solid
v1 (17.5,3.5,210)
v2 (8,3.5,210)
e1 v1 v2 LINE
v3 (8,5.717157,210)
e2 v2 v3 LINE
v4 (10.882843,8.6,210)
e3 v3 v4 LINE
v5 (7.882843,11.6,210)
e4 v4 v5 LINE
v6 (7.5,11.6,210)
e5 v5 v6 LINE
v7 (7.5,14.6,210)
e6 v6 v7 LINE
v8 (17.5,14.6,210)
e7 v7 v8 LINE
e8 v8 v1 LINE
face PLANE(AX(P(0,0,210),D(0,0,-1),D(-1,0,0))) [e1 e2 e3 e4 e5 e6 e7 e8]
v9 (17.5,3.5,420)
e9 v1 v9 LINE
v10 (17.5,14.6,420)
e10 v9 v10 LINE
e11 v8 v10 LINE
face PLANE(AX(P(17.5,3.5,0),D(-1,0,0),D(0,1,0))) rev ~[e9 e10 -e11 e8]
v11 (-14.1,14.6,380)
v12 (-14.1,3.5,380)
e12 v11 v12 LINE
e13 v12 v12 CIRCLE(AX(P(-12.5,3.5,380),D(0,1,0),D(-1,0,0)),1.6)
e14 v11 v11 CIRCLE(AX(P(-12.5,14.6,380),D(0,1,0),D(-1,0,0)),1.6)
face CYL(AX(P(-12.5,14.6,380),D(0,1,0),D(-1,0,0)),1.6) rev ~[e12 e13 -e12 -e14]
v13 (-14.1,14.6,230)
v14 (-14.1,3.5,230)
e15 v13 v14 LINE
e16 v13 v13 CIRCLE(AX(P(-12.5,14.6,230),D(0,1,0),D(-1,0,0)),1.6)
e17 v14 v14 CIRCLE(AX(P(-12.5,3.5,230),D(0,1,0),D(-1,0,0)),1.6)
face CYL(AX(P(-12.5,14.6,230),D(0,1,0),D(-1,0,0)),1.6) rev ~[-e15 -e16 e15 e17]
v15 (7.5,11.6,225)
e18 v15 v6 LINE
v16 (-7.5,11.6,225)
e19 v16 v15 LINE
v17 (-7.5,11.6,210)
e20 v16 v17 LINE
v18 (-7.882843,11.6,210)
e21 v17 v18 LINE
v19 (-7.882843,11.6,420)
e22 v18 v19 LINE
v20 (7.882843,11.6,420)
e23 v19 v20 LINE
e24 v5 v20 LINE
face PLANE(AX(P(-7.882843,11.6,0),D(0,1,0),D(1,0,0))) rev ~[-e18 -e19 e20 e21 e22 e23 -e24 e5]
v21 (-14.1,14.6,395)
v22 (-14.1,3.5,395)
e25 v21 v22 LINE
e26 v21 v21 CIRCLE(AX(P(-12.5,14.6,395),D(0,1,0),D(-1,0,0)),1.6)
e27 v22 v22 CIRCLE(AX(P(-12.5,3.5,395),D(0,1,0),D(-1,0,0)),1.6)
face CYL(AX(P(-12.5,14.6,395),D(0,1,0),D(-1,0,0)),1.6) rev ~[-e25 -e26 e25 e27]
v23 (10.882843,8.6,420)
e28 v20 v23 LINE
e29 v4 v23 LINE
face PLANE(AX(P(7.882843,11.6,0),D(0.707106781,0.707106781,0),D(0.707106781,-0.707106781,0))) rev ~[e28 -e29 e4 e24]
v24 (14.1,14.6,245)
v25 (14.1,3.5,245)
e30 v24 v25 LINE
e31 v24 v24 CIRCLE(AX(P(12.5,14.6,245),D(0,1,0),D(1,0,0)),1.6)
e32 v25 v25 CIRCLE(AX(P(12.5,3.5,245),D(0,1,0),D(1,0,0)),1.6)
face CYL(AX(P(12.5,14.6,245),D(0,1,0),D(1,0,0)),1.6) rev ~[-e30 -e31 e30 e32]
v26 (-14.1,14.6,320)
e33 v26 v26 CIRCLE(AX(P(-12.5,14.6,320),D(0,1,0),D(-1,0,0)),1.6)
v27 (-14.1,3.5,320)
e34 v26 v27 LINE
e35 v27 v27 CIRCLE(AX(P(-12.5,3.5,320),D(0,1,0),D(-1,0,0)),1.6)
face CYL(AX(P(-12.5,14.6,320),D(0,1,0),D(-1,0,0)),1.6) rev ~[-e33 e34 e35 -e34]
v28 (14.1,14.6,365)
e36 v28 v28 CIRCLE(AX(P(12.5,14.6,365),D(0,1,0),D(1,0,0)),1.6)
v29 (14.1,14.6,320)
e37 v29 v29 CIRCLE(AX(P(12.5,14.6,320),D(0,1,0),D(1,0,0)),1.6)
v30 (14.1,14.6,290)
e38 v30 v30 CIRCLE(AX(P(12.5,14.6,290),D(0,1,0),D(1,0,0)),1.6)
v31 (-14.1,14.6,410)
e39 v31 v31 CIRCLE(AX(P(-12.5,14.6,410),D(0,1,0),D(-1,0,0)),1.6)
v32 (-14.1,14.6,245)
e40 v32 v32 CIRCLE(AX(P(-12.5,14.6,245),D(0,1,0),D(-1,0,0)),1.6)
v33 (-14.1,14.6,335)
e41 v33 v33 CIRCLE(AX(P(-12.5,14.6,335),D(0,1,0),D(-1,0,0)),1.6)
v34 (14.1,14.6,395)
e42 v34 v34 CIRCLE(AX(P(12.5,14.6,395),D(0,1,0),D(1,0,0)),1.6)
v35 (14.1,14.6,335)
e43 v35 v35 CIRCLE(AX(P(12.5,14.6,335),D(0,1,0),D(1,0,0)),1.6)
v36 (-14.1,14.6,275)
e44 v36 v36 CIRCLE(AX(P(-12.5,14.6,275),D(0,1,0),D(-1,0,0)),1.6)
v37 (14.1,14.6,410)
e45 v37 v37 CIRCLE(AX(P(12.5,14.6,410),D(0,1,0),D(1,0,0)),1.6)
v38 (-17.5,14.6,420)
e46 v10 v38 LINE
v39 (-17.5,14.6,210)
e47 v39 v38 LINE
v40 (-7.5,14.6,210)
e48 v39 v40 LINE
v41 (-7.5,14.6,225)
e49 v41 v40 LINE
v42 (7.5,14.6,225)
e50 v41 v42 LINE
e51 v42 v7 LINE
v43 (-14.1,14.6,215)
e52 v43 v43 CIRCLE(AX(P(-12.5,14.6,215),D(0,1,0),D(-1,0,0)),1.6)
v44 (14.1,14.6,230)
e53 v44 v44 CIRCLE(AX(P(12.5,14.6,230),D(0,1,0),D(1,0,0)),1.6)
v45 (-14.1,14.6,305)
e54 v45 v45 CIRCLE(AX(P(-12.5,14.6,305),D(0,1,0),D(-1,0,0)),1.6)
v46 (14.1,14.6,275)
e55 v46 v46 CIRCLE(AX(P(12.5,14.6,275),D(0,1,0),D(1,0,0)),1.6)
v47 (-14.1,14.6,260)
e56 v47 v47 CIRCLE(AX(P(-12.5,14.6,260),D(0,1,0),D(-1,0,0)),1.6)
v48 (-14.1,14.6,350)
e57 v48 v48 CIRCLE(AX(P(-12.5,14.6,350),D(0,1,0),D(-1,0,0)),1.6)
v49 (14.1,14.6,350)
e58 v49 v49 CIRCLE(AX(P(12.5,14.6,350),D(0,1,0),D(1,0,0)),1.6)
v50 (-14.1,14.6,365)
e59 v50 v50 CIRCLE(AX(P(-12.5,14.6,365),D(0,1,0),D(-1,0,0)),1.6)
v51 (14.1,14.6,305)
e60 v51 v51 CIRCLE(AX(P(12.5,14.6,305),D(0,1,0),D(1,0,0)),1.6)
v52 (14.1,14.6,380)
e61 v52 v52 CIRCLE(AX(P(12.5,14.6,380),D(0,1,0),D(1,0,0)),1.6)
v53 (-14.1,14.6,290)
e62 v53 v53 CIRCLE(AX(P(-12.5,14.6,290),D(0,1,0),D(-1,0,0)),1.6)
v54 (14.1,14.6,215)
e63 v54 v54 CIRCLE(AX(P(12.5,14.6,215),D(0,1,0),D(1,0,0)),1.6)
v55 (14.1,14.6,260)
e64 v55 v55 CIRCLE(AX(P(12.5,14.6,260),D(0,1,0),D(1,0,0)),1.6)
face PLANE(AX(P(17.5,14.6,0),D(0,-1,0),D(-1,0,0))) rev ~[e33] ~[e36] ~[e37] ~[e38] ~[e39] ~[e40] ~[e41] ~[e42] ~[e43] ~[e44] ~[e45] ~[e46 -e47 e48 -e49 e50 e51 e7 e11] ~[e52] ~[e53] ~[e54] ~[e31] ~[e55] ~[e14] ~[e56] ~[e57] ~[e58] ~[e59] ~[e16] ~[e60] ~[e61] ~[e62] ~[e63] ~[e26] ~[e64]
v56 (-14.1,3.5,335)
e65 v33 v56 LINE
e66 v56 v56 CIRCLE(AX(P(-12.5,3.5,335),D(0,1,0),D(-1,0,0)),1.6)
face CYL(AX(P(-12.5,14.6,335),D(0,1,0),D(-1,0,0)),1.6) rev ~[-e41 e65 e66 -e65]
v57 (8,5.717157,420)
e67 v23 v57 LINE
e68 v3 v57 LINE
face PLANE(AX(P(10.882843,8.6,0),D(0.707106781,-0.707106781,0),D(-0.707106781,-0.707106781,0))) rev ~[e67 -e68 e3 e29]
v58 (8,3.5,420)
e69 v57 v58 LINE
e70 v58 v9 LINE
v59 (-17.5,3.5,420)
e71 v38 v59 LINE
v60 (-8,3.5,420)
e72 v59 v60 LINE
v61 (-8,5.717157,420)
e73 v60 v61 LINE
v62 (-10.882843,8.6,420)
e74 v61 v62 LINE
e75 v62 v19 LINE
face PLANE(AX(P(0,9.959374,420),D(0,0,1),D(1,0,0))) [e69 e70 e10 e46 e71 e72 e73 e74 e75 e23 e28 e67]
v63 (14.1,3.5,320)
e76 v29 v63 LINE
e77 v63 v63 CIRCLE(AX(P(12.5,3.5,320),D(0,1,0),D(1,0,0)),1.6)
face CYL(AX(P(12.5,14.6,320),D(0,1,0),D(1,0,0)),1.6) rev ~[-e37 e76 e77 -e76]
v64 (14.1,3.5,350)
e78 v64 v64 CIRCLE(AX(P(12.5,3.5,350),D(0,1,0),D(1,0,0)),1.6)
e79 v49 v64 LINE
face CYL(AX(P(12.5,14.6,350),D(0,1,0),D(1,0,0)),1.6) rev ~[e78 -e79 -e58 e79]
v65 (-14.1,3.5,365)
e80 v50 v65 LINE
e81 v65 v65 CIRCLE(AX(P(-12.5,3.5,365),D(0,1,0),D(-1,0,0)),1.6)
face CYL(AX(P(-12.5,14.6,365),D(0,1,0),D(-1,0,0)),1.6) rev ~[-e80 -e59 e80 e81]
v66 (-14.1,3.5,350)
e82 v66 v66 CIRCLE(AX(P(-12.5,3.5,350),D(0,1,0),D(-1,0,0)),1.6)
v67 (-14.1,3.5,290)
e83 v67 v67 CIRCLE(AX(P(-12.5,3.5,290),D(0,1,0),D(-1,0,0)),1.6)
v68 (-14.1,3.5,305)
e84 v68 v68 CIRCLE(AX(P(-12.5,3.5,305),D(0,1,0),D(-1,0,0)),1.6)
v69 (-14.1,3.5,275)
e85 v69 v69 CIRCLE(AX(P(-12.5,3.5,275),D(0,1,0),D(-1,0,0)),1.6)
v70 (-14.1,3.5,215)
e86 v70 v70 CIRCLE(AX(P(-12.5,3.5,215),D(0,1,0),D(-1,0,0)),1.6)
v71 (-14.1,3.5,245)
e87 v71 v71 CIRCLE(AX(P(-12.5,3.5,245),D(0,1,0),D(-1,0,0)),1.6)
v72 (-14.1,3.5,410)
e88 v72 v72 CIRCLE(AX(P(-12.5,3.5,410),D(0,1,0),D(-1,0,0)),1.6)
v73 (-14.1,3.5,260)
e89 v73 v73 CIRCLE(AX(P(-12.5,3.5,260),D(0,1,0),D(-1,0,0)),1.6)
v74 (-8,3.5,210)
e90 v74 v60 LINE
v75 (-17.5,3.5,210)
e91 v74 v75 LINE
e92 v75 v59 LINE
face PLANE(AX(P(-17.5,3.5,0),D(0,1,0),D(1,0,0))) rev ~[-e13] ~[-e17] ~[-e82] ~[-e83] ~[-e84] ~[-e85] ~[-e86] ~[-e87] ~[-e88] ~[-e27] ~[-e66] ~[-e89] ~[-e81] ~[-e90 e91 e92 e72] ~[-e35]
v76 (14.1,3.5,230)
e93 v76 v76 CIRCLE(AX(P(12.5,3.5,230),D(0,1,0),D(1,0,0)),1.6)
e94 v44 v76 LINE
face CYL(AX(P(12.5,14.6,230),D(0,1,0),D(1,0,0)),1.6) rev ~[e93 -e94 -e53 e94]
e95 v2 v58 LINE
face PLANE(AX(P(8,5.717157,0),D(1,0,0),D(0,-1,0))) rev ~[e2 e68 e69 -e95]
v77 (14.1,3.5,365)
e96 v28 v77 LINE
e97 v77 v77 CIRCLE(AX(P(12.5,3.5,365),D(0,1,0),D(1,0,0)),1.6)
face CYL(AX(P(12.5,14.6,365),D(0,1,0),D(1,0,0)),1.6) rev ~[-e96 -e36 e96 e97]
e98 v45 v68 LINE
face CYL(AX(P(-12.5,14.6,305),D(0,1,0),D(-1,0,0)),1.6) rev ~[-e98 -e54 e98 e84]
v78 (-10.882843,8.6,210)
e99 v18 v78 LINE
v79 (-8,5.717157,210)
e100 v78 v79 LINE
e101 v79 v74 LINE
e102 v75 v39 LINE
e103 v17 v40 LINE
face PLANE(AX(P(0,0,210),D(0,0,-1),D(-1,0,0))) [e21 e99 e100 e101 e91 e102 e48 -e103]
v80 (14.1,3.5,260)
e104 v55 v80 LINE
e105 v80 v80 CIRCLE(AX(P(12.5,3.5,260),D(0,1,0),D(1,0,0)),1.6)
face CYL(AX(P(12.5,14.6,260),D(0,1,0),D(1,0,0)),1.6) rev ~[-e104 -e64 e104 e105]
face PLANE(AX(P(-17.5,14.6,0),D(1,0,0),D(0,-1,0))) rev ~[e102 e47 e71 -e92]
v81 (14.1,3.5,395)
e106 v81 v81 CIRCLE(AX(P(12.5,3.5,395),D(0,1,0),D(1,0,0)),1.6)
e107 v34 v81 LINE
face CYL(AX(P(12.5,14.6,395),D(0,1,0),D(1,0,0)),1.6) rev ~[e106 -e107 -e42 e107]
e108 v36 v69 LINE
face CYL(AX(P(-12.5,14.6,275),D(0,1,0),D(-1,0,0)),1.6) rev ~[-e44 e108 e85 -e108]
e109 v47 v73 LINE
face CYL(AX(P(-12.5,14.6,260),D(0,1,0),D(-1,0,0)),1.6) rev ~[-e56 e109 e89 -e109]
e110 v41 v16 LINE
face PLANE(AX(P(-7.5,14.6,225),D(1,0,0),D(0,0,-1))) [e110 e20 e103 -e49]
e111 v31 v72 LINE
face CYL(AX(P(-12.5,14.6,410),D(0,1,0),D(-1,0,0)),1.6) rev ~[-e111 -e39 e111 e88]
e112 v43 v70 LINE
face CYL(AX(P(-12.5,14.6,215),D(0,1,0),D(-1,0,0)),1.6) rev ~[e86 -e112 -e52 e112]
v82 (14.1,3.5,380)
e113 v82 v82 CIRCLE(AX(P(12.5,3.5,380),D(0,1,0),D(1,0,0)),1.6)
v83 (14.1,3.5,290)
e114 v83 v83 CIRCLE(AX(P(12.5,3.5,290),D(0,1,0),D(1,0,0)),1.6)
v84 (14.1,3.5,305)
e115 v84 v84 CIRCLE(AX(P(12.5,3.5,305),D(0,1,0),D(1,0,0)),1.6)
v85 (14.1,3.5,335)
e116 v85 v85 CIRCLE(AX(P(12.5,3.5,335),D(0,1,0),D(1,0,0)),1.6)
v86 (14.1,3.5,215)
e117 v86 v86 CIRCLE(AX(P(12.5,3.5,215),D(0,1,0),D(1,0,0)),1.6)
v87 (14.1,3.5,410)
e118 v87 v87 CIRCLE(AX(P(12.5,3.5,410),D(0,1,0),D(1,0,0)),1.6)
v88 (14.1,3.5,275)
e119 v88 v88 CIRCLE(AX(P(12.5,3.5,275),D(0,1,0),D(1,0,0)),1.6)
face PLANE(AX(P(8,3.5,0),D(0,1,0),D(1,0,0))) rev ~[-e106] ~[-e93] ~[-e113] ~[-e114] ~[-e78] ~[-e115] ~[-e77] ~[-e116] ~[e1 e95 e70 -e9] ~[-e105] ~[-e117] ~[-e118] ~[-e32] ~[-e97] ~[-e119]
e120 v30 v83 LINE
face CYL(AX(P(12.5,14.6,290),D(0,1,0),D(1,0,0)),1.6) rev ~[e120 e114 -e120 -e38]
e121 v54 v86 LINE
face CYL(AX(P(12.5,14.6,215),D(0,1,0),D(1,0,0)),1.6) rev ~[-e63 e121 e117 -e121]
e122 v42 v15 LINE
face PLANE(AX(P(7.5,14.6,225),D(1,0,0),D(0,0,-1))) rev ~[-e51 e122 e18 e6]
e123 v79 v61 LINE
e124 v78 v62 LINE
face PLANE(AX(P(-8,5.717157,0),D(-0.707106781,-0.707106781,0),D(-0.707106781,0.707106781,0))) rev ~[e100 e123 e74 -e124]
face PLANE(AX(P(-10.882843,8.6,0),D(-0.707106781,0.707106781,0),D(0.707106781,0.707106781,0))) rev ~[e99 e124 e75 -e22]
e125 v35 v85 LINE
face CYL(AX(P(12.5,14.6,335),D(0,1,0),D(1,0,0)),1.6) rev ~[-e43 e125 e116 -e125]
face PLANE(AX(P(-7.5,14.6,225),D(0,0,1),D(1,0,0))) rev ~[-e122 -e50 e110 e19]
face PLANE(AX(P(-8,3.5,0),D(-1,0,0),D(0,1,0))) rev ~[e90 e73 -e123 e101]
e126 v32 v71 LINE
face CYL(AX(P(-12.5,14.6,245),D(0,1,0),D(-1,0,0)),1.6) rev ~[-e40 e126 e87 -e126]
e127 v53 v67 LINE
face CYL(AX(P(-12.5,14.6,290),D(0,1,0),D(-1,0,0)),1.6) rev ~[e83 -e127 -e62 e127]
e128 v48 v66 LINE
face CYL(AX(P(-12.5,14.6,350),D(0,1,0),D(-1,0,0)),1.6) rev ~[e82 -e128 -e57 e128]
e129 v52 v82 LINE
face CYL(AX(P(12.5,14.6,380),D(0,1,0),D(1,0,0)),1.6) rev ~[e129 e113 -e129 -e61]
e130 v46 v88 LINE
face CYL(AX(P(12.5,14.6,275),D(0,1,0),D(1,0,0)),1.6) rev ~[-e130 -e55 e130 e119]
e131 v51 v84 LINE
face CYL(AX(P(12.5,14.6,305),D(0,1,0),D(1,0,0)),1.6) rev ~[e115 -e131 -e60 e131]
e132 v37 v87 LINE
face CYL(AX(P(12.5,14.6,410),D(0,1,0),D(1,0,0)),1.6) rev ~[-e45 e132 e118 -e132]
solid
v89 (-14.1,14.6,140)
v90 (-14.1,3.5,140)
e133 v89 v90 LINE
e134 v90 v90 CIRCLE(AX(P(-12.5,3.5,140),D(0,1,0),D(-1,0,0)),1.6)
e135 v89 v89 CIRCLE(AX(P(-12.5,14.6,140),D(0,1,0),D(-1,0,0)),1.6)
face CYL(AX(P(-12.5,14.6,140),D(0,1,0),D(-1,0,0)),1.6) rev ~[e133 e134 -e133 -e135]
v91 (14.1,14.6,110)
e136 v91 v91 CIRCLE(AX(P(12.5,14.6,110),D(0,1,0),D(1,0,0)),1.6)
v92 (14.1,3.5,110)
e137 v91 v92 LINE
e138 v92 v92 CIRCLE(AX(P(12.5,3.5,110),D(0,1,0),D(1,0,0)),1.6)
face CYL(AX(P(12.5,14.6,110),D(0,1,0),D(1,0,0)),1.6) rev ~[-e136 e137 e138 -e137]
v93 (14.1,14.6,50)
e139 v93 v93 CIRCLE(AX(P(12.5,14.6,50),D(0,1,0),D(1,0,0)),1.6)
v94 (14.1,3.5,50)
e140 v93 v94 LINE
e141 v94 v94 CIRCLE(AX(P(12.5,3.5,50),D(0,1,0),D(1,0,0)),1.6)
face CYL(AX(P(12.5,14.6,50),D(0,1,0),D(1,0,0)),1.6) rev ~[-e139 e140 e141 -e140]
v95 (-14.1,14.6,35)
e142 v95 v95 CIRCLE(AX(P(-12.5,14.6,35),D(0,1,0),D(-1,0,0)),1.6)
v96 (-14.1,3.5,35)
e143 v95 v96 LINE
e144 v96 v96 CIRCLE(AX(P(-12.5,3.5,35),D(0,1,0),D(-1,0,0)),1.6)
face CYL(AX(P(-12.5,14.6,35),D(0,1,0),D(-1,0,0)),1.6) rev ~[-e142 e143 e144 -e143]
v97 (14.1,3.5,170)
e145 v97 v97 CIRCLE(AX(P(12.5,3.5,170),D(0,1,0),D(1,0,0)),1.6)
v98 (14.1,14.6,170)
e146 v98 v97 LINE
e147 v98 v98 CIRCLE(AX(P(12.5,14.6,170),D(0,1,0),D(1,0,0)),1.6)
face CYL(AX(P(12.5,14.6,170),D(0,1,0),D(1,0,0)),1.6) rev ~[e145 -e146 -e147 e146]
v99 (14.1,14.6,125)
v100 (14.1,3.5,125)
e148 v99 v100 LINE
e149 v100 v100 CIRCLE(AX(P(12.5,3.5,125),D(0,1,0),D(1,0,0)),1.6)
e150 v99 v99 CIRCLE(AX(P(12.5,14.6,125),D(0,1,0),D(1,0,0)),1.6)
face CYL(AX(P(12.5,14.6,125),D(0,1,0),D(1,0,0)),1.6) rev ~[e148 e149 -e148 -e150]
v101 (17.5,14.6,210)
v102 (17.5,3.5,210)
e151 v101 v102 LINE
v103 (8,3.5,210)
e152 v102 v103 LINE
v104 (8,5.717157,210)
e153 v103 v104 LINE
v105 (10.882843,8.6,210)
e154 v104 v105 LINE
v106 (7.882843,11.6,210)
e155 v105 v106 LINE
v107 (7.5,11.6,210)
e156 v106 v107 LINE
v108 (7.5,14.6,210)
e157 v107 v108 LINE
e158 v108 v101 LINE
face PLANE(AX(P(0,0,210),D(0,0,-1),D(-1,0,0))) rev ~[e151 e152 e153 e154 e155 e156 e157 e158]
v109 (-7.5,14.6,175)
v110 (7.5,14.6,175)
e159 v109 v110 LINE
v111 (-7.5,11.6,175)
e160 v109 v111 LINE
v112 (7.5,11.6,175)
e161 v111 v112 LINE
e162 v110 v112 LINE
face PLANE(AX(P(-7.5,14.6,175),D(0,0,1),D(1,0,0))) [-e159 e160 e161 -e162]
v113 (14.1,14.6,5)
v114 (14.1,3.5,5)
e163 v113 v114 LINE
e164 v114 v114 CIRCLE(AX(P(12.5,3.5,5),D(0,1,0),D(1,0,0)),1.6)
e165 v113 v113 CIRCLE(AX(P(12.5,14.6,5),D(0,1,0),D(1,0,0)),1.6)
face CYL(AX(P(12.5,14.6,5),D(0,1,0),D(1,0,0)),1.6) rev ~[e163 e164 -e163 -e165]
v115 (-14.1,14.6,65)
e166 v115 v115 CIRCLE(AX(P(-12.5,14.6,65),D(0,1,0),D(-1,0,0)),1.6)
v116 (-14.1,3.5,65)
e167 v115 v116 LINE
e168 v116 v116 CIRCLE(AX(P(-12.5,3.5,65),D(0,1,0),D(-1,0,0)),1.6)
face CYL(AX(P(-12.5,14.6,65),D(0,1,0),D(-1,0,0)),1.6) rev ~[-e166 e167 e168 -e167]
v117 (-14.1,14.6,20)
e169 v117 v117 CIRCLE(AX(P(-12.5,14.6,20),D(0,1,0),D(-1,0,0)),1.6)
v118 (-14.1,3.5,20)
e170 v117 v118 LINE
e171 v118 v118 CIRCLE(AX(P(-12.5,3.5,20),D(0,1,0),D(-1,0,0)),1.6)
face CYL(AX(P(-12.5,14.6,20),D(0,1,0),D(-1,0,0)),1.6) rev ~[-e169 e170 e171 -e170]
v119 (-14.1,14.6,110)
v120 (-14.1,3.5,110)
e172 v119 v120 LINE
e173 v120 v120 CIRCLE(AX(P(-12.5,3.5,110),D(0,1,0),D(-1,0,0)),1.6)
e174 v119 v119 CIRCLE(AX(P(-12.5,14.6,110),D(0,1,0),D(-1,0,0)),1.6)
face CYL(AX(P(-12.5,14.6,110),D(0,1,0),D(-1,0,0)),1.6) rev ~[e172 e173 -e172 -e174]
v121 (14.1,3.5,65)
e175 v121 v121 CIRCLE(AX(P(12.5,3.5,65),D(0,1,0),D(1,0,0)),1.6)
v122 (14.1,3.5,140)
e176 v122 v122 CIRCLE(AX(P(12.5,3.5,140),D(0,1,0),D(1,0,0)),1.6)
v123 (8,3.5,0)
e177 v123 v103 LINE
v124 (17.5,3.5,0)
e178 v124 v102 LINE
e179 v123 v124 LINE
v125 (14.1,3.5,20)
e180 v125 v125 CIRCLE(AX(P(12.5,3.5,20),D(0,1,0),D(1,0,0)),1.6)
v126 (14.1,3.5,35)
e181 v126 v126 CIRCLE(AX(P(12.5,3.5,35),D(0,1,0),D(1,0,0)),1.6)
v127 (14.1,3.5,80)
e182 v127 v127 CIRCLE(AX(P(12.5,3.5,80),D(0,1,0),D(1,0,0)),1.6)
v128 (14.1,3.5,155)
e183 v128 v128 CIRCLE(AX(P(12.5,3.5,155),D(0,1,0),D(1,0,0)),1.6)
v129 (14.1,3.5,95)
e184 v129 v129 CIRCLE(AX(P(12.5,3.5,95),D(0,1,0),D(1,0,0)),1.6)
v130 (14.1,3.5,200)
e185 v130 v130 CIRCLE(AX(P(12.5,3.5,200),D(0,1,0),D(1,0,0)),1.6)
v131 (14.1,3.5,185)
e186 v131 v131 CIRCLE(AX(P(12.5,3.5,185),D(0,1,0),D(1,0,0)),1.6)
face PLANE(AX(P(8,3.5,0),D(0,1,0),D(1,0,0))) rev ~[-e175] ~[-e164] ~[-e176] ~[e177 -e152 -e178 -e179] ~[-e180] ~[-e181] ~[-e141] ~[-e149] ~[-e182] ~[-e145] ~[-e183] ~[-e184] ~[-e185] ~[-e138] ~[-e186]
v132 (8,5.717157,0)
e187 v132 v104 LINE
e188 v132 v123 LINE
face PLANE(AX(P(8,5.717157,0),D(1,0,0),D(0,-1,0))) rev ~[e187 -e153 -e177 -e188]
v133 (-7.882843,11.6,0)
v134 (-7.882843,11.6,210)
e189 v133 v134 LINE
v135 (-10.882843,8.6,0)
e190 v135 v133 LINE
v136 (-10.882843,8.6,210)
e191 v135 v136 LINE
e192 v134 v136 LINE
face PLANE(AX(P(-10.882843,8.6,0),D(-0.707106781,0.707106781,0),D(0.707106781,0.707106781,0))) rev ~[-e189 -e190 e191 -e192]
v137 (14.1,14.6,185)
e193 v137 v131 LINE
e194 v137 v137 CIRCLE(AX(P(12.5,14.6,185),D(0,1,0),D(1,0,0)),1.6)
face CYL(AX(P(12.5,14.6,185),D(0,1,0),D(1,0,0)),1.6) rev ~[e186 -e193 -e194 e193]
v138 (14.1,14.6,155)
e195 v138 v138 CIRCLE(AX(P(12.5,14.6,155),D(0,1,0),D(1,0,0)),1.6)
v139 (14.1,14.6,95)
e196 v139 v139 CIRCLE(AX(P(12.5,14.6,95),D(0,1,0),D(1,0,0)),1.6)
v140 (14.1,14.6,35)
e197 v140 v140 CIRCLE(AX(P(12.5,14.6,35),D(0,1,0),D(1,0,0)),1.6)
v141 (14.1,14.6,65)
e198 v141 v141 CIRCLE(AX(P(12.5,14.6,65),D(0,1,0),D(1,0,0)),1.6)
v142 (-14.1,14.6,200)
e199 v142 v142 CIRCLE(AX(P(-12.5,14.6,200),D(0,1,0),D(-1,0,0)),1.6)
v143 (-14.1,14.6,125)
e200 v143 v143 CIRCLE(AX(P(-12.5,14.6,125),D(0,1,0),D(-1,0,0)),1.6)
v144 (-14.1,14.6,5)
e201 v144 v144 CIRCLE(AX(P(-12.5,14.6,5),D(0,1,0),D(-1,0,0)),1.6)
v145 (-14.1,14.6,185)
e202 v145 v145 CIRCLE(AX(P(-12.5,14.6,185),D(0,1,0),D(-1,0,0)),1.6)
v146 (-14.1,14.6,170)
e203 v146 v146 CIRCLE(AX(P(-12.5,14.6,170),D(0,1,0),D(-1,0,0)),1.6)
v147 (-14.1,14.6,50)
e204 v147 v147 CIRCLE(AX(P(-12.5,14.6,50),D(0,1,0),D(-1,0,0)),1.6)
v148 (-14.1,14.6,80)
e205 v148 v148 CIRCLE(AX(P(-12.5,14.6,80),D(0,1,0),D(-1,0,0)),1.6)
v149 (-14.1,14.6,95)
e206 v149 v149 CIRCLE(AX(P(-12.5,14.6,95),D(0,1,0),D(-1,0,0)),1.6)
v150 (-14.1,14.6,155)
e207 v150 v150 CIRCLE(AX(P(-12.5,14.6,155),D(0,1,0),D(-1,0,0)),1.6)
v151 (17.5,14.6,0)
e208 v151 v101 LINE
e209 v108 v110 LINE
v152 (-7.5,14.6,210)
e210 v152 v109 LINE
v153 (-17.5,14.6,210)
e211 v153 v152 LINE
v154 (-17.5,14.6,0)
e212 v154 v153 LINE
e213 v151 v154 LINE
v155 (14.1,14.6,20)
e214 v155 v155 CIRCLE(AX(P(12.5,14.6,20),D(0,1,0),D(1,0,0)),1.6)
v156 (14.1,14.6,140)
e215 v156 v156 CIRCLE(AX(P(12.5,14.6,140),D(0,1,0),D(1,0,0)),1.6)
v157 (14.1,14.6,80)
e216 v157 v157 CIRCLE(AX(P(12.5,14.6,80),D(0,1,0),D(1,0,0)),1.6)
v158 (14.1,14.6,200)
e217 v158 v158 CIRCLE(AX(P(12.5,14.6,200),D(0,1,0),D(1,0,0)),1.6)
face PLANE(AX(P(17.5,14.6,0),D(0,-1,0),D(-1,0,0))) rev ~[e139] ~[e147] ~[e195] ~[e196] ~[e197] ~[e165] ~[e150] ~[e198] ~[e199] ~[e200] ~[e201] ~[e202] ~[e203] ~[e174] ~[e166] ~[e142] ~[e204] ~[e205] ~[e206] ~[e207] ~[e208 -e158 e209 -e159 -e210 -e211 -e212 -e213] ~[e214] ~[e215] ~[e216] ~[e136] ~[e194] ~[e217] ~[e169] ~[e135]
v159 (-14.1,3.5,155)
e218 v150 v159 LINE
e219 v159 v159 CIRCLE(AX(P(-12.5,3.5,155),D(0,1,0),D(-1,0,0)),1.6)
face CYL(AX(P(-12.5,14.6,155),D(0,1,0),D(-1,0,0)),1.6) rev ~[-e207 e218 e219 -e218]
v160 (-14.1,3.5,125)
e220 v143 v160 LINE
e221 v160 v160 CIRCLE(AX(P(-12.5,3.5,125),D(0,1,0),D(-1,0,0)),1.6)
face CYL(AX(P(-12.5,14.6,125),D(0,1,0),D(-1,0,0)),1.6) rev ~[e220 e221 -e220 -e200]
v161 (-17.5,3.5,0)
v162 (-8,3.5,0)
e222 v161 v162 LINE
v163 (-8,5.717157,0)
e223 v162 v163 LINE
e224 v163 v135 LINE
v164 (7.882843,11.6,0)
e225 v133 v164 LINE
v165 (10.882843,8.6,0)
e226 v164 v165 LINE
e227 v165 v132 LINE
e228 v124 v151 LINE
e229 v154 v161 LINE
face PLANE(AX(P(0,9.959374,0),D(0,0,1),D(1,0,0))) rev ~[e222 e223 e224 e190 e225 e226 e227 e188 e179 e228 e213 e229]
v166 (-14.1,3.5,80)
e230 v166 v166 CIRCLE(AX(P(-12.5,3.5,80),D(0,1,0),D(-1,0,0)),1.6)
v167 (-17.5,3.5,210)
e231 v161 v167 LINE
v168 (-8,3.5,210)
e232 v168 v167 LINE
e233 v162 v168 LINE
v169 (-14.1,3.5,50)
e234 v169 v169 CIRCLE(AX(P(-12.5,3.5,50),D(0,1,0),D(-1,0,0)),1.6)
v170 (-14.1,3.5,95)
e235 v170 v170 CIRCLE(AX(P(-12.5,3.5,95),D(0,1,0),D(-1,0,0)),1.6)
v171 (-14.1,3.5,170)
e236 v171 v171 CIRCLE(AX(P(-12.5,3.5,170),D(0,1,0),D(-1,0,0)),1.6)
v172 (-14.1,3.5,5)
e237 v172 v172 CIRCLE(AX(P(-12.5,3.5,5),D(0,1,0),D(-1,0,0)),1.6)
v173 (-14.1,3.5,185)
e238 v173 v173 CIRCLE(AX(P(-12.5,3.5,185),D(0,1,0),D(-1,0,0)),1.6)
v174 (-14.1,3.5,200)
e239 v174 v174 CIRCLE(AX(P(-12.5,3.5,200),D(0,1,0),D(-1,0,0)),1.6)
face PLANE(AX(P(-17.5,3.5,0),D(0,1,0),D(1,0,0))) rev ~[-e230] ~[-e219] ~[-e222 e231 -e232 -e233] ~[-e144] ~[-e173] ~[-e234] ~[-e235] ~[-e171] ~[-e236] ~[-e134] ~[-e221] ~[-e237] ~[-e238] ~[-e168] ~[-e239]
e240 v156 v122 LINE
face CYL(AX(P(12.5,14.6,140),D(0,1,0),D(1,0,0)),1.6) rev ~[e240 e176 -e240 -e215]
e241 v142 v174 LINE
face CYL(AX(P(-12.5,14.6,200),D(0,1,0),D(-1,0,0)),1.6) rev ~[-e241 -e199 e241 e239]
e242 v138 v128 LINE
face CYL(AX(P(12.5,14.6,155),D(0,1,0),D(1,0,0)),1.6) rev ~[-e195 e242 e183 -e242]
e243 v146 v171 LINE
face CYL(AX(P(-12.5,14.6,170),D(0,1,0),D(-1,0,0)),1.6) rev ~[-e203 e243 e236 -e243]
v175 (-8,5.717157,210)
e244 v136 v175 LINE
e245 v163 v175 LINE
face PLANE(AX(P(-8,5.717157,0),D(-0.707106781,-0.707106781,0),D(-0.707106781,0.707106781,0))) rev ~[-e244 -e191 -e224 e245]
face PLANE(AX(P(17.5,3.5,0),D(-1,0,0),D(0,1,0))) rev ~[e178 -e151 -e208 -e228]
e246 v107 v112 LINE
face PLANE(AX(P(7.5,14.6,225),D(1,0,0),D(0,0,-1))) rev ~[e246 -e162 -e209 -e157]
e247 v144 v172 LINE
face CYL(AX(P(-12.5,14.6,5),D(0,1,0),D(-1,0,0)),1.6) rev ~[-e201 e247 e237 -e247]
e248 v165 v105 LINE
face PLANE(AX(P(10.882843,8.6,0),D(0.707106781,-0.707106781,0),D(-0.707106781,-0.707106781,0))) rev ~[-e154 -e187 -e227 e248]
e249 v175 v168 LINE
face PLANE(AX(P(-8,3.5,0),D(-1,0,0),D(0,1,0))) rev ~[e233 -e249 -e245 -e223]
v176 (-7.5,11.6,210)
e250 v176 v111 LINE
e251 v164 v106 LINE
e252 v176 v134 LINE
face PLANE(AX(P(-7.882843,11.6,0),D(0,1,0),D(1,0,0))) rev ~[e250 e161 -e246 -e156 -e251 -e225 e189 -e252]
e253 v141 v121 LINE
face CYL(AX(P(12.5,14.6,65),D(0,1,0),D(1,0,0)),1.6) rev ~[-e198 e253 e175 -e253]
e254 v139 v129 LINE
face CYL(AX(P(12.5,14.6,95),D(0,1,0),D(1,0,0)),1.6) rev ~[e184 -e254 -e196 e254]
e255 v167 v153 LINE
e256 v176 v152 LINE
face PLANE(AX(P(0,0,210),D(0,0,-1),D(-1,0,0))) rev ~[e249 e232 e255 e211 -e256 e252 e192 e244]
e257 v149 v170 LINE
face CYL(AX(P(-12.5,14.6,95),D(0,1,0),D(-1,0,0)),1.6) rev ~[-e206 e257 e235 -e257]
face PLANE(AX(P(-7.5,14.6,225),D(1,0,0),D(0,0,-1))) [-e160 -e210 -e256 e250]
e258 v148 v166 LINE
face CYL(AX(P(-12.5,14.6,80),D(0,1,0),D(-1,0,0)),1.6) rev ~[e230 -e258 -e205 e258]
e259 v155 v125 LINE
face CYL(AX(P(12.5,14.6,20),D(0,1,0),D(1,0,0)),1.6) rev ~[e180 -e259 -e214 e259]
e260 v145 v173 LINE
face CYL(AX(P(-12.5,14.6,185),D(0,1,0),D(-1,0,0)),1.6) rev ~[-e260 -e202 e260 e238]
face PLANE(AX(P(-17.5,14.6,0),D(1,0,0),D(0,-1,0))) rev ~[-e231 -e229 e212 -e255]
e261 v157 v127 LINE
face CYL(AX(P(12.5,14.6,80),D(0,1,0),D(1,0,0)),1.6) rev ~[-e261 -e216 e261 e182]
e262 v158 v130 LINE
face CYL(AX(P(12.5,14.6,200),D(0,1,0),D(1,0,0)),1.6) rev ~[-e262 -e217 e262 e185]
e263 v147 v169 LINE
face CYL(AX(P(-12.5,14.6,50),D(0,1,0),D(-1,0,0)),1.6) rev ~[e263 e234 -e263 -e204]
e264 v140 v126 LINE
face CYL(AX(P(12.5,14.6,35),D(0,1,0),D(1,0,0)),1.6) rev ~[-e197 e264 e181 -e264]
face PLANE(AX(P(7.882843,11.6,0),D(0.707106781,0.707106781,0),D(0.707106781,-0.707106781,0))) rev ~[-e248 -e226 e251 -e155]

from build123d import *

# Parameters (mm, degrees)
EXTRUDE_2_DEPTH     = 420
SKETCH_3_R          = 1.6
CUT_EXTRUDE_1_DEPTH = 421.510951106
SKETCH_4_W          = 15
SKETCH_4_H          = 50
CUT_EXTRUDE_2_DEPTH = 421.510951106


with BuildPart() as part:
    # 草图1 → 凸台-拉伸2 (new body)
    with BuildSketch(Plane.XY):
        Polygon((8, 3.5), (17.5, 3.5), (17.5, 14.6), (-17.5, 14.6), (-17.5, 3.5), (-8, 3.5), (-8, 5.717157288), (-10.882842712, 8.6), (-7.882842712, 11.6), (7.882842712, 11.6), (10.882842712, 8.6), (8, 5.717157288), align=None)
    extrude(amount=EXTRUDE_2_DEPTH)

    # 草图3 → 切除-拉伸1 (cut, through all)
    with BuildSketch(Plane(origin=(0, 14.6, 0), x_dir=(1, 0, 0), z_dir=(0, 1, 0))):
        with Locations(Location((-12.5, -5, 0), (0, 0, 180))):
            Circle(SKETCH_3_R)
        with Locations(Location((-12.5, -20, 0), (0, 0, 180))):
            Circle(SKETCH_3_R)
        with Locations(Location((-12.5, -35, 0), (0, 0, 180))):
            Circle(SKETCH_3_R)
        with Locations(Location((-12.5, -50, 0), (0, 0, 180))):
            Circle(SKETCH_3_R)
        with Locations(Location((-12.5, -65, 0), (0, 0, 180))):
            Circle(SKETCH_3_R)
        with Locations(Location((-12.5, -80, 0), (0, 0, 180))):
            Circle(SKETCH_3_R)
        with Locations(Location((-12.5, -95, 0), (0, 0, 180))):
            Circle(SKETCH_3_R)
        with Locations(Location((-12.5, -110, 0), (0, 0, 180))):
            Circle(SKETCH_3_R)
        with Locations(Location((-12.5, -125, 0), (0, 0, 180))):
            Circle(SKETCH_3_R)
        with Locations(Location((-12.5, -140, 0), (0, 0, 180))):
            Circle(SKETCH_3_R)
        with Locations(Location((-12.5, -155, 0), (0, 0, 180))):
            Circle(SKETCH_3_R)
        with Locations(Location((-12.5, -170, 0), (0, 0, 180))):
            Circle(SKETCH_3_R)
        with Locations(Location((-12.5, -185, 0), (0, 0, 180))):
            Circle(SKETCH_3_R)
        with Locations(Location((-12.5, -200, 0), (0, 0, 180))):
            Circle(SKETCH_3_R)
        with Locations(Location((-12.5, -215, 0), (0, 0, 180))):
            Circle(SKETCH_3_R)
        with Locations(Location((-12.5, -230, 0), (0, 0, 180))):
            Circle(SKETCH_3_R)
        with Locations(Location((-12.5, -245, 0), (0, 0, 180))):
            Circle(SKETCH_3_R)
        with Locations(Location((-12.5, -260, 0), (0, 0, 180))):
            Circle(SKETCH_3_R)
        with Locations(Location((-12.5, -275, 0), (0, 0, 180))):
            Circle(SKETCH_3_R)
        with Locations(Location((-12.5, -290, 0), (0, 0, 180))):
            Circle(SKETCH_3_R)
        with Locations(Location((-12.5, -305, 0), (0, 0, 180))):
            Circle(SKETCH_3_R)
        with Locations(Location((-12.5, -320, 0), (0, 0, 180))):
            Circle(SKETCH_3_R)
        with Locations(Location((-12.5, -335, 0), (0, 0, 180))):
            Circle(SKETCH_3_R)
        with Locations(Location((-12.5, -350, 0), (0, 0, 180))):
            Circle(SKETCH_3_R)
        with Locations(Location((-12.5, -365, 0), (0, 0, 180))):
            Circle(SKETCH_3_R)
        with Locations(Location((-12.5, -380, 0), (0, 0, 180))):
            Circle(SKETCH_3_R)
        with Locations(Location((-12.5, -395, 0), (0, 0, 180))):
            Circle(SKETCH_3_R)
        with Locations(Location((-12.5, -410, 0), (0, 0, 180))):
            Circle(SKETCH_3_R)
        with Locations((12.5, -410)):
            Circle(SKETCH_3_R)
        with Locations((12.5, -395)):
            Circle(SKETCH_3_R)
        with Locations((12.5, -380)):
            Circle(SKETCH_3_R)
        with Locations((12.5, -365)):
            Circle(SKETCH_3_R)
        with Locations((12.5, -350)):
            Circle(SKETCH_3_R)
        with Locations((12.5, -335)):
            Circle(SKETCH_3_R)
        with Locations((12.5, -320)):
            Circle(SKETCH_3_R)
        with Locations((12.5, -305)):
            Circle(SKETCH_3_R)
        with Locations((12.5, -290)):
            Circle(SKETCH_3_R)
        with Locations((12.5, -275)):
            Circle(SKETCH_3_R)
        with Locations((12.5, -260)):
            Circle(SKETCH_3_R)
        with Locations((12.5, -245)):
            Circle(SKETCH_3_R)
        with Locations((12.5, -230)):
            Circle(SKETCH_3_R)
        with Locations((12.5, -215)):
            Circle(SKETCH_3_R)
        with Locations((12.5, -200)):
            Circle(SKETCH_3_R)
        with Locations((12.5, -185)):
            Circle(SKETCH_3_R)
        with Locations((12.5, -170)):
            Circle(SKETCH_3_R)
        with Locations((12.5, -155)):
            Circle(SKETCH_3_R)
        with Locations((12.5, -140)):
            Circle(SKETCH_3_R)
        with Locations((12.5, -125)):
            Circle(SKETCH_3_R)
        with Locations((12.5, -110)):
            Circle(SKETCH_3_R)
        with Locations((12.5, -95)):
            Circle(SKETCH_3_R)
        with Locations((12.5, -80)):
            Circle(SKETCH_3_R)
        with Locations((12.5, -65)):
            Circle(SKETCH_3_R)
        with Locations((12.5, -50)):
            Circle(SKETCH_3_R)
        with Locations((12.5, -35)):
            Circle(SKETCH_3_R)
        with Locations((12.5, -20)):
            Circle(SKETCH_3_R)
        with Locations((12.5, -5)):
            Circle(SKETCH_3_R)
    extrude(amount=-CUT_EXTRUDE_1_DEPTH, mode=Mode.SUBTRACT)

    # 草图4 → 切除-拉伸2 (cut, through all)
    with BuildSketch(Plane(origin=(0, 14.6, 0), x_dir=(1, 0, 0), z_dir=(0, 1, 0))):
        with Locations((0, -200)):
            Rectangle(SKETCH_4_W, SKETCH_4_H)
    extrude(amount=-CUT_EXTRUDE_2_DEPTH, mode=Mode.SUBTRACT)


with BuildPart() as body_2:
    # Split Bodies 1: the piece on the far side of the plane
    add(part.part)
    split(bisect_by=Plane(origin=(0, 0, 210), x_dir=(-1, 0, 0), z_dir=(0, 0, -1)), keep=Keep.BOTTOM)


with BuildPart() as part_1:
    add(part.part)

    # Split Bodies 1
    split(bisect_by=Plane(origin=(0, 0, 210), x_dir=(-1, 0, 0), z_dir=(0, 0, -1)), keep=Keep.TOP)


solid = Compound([body_2.part, part_1.part])
